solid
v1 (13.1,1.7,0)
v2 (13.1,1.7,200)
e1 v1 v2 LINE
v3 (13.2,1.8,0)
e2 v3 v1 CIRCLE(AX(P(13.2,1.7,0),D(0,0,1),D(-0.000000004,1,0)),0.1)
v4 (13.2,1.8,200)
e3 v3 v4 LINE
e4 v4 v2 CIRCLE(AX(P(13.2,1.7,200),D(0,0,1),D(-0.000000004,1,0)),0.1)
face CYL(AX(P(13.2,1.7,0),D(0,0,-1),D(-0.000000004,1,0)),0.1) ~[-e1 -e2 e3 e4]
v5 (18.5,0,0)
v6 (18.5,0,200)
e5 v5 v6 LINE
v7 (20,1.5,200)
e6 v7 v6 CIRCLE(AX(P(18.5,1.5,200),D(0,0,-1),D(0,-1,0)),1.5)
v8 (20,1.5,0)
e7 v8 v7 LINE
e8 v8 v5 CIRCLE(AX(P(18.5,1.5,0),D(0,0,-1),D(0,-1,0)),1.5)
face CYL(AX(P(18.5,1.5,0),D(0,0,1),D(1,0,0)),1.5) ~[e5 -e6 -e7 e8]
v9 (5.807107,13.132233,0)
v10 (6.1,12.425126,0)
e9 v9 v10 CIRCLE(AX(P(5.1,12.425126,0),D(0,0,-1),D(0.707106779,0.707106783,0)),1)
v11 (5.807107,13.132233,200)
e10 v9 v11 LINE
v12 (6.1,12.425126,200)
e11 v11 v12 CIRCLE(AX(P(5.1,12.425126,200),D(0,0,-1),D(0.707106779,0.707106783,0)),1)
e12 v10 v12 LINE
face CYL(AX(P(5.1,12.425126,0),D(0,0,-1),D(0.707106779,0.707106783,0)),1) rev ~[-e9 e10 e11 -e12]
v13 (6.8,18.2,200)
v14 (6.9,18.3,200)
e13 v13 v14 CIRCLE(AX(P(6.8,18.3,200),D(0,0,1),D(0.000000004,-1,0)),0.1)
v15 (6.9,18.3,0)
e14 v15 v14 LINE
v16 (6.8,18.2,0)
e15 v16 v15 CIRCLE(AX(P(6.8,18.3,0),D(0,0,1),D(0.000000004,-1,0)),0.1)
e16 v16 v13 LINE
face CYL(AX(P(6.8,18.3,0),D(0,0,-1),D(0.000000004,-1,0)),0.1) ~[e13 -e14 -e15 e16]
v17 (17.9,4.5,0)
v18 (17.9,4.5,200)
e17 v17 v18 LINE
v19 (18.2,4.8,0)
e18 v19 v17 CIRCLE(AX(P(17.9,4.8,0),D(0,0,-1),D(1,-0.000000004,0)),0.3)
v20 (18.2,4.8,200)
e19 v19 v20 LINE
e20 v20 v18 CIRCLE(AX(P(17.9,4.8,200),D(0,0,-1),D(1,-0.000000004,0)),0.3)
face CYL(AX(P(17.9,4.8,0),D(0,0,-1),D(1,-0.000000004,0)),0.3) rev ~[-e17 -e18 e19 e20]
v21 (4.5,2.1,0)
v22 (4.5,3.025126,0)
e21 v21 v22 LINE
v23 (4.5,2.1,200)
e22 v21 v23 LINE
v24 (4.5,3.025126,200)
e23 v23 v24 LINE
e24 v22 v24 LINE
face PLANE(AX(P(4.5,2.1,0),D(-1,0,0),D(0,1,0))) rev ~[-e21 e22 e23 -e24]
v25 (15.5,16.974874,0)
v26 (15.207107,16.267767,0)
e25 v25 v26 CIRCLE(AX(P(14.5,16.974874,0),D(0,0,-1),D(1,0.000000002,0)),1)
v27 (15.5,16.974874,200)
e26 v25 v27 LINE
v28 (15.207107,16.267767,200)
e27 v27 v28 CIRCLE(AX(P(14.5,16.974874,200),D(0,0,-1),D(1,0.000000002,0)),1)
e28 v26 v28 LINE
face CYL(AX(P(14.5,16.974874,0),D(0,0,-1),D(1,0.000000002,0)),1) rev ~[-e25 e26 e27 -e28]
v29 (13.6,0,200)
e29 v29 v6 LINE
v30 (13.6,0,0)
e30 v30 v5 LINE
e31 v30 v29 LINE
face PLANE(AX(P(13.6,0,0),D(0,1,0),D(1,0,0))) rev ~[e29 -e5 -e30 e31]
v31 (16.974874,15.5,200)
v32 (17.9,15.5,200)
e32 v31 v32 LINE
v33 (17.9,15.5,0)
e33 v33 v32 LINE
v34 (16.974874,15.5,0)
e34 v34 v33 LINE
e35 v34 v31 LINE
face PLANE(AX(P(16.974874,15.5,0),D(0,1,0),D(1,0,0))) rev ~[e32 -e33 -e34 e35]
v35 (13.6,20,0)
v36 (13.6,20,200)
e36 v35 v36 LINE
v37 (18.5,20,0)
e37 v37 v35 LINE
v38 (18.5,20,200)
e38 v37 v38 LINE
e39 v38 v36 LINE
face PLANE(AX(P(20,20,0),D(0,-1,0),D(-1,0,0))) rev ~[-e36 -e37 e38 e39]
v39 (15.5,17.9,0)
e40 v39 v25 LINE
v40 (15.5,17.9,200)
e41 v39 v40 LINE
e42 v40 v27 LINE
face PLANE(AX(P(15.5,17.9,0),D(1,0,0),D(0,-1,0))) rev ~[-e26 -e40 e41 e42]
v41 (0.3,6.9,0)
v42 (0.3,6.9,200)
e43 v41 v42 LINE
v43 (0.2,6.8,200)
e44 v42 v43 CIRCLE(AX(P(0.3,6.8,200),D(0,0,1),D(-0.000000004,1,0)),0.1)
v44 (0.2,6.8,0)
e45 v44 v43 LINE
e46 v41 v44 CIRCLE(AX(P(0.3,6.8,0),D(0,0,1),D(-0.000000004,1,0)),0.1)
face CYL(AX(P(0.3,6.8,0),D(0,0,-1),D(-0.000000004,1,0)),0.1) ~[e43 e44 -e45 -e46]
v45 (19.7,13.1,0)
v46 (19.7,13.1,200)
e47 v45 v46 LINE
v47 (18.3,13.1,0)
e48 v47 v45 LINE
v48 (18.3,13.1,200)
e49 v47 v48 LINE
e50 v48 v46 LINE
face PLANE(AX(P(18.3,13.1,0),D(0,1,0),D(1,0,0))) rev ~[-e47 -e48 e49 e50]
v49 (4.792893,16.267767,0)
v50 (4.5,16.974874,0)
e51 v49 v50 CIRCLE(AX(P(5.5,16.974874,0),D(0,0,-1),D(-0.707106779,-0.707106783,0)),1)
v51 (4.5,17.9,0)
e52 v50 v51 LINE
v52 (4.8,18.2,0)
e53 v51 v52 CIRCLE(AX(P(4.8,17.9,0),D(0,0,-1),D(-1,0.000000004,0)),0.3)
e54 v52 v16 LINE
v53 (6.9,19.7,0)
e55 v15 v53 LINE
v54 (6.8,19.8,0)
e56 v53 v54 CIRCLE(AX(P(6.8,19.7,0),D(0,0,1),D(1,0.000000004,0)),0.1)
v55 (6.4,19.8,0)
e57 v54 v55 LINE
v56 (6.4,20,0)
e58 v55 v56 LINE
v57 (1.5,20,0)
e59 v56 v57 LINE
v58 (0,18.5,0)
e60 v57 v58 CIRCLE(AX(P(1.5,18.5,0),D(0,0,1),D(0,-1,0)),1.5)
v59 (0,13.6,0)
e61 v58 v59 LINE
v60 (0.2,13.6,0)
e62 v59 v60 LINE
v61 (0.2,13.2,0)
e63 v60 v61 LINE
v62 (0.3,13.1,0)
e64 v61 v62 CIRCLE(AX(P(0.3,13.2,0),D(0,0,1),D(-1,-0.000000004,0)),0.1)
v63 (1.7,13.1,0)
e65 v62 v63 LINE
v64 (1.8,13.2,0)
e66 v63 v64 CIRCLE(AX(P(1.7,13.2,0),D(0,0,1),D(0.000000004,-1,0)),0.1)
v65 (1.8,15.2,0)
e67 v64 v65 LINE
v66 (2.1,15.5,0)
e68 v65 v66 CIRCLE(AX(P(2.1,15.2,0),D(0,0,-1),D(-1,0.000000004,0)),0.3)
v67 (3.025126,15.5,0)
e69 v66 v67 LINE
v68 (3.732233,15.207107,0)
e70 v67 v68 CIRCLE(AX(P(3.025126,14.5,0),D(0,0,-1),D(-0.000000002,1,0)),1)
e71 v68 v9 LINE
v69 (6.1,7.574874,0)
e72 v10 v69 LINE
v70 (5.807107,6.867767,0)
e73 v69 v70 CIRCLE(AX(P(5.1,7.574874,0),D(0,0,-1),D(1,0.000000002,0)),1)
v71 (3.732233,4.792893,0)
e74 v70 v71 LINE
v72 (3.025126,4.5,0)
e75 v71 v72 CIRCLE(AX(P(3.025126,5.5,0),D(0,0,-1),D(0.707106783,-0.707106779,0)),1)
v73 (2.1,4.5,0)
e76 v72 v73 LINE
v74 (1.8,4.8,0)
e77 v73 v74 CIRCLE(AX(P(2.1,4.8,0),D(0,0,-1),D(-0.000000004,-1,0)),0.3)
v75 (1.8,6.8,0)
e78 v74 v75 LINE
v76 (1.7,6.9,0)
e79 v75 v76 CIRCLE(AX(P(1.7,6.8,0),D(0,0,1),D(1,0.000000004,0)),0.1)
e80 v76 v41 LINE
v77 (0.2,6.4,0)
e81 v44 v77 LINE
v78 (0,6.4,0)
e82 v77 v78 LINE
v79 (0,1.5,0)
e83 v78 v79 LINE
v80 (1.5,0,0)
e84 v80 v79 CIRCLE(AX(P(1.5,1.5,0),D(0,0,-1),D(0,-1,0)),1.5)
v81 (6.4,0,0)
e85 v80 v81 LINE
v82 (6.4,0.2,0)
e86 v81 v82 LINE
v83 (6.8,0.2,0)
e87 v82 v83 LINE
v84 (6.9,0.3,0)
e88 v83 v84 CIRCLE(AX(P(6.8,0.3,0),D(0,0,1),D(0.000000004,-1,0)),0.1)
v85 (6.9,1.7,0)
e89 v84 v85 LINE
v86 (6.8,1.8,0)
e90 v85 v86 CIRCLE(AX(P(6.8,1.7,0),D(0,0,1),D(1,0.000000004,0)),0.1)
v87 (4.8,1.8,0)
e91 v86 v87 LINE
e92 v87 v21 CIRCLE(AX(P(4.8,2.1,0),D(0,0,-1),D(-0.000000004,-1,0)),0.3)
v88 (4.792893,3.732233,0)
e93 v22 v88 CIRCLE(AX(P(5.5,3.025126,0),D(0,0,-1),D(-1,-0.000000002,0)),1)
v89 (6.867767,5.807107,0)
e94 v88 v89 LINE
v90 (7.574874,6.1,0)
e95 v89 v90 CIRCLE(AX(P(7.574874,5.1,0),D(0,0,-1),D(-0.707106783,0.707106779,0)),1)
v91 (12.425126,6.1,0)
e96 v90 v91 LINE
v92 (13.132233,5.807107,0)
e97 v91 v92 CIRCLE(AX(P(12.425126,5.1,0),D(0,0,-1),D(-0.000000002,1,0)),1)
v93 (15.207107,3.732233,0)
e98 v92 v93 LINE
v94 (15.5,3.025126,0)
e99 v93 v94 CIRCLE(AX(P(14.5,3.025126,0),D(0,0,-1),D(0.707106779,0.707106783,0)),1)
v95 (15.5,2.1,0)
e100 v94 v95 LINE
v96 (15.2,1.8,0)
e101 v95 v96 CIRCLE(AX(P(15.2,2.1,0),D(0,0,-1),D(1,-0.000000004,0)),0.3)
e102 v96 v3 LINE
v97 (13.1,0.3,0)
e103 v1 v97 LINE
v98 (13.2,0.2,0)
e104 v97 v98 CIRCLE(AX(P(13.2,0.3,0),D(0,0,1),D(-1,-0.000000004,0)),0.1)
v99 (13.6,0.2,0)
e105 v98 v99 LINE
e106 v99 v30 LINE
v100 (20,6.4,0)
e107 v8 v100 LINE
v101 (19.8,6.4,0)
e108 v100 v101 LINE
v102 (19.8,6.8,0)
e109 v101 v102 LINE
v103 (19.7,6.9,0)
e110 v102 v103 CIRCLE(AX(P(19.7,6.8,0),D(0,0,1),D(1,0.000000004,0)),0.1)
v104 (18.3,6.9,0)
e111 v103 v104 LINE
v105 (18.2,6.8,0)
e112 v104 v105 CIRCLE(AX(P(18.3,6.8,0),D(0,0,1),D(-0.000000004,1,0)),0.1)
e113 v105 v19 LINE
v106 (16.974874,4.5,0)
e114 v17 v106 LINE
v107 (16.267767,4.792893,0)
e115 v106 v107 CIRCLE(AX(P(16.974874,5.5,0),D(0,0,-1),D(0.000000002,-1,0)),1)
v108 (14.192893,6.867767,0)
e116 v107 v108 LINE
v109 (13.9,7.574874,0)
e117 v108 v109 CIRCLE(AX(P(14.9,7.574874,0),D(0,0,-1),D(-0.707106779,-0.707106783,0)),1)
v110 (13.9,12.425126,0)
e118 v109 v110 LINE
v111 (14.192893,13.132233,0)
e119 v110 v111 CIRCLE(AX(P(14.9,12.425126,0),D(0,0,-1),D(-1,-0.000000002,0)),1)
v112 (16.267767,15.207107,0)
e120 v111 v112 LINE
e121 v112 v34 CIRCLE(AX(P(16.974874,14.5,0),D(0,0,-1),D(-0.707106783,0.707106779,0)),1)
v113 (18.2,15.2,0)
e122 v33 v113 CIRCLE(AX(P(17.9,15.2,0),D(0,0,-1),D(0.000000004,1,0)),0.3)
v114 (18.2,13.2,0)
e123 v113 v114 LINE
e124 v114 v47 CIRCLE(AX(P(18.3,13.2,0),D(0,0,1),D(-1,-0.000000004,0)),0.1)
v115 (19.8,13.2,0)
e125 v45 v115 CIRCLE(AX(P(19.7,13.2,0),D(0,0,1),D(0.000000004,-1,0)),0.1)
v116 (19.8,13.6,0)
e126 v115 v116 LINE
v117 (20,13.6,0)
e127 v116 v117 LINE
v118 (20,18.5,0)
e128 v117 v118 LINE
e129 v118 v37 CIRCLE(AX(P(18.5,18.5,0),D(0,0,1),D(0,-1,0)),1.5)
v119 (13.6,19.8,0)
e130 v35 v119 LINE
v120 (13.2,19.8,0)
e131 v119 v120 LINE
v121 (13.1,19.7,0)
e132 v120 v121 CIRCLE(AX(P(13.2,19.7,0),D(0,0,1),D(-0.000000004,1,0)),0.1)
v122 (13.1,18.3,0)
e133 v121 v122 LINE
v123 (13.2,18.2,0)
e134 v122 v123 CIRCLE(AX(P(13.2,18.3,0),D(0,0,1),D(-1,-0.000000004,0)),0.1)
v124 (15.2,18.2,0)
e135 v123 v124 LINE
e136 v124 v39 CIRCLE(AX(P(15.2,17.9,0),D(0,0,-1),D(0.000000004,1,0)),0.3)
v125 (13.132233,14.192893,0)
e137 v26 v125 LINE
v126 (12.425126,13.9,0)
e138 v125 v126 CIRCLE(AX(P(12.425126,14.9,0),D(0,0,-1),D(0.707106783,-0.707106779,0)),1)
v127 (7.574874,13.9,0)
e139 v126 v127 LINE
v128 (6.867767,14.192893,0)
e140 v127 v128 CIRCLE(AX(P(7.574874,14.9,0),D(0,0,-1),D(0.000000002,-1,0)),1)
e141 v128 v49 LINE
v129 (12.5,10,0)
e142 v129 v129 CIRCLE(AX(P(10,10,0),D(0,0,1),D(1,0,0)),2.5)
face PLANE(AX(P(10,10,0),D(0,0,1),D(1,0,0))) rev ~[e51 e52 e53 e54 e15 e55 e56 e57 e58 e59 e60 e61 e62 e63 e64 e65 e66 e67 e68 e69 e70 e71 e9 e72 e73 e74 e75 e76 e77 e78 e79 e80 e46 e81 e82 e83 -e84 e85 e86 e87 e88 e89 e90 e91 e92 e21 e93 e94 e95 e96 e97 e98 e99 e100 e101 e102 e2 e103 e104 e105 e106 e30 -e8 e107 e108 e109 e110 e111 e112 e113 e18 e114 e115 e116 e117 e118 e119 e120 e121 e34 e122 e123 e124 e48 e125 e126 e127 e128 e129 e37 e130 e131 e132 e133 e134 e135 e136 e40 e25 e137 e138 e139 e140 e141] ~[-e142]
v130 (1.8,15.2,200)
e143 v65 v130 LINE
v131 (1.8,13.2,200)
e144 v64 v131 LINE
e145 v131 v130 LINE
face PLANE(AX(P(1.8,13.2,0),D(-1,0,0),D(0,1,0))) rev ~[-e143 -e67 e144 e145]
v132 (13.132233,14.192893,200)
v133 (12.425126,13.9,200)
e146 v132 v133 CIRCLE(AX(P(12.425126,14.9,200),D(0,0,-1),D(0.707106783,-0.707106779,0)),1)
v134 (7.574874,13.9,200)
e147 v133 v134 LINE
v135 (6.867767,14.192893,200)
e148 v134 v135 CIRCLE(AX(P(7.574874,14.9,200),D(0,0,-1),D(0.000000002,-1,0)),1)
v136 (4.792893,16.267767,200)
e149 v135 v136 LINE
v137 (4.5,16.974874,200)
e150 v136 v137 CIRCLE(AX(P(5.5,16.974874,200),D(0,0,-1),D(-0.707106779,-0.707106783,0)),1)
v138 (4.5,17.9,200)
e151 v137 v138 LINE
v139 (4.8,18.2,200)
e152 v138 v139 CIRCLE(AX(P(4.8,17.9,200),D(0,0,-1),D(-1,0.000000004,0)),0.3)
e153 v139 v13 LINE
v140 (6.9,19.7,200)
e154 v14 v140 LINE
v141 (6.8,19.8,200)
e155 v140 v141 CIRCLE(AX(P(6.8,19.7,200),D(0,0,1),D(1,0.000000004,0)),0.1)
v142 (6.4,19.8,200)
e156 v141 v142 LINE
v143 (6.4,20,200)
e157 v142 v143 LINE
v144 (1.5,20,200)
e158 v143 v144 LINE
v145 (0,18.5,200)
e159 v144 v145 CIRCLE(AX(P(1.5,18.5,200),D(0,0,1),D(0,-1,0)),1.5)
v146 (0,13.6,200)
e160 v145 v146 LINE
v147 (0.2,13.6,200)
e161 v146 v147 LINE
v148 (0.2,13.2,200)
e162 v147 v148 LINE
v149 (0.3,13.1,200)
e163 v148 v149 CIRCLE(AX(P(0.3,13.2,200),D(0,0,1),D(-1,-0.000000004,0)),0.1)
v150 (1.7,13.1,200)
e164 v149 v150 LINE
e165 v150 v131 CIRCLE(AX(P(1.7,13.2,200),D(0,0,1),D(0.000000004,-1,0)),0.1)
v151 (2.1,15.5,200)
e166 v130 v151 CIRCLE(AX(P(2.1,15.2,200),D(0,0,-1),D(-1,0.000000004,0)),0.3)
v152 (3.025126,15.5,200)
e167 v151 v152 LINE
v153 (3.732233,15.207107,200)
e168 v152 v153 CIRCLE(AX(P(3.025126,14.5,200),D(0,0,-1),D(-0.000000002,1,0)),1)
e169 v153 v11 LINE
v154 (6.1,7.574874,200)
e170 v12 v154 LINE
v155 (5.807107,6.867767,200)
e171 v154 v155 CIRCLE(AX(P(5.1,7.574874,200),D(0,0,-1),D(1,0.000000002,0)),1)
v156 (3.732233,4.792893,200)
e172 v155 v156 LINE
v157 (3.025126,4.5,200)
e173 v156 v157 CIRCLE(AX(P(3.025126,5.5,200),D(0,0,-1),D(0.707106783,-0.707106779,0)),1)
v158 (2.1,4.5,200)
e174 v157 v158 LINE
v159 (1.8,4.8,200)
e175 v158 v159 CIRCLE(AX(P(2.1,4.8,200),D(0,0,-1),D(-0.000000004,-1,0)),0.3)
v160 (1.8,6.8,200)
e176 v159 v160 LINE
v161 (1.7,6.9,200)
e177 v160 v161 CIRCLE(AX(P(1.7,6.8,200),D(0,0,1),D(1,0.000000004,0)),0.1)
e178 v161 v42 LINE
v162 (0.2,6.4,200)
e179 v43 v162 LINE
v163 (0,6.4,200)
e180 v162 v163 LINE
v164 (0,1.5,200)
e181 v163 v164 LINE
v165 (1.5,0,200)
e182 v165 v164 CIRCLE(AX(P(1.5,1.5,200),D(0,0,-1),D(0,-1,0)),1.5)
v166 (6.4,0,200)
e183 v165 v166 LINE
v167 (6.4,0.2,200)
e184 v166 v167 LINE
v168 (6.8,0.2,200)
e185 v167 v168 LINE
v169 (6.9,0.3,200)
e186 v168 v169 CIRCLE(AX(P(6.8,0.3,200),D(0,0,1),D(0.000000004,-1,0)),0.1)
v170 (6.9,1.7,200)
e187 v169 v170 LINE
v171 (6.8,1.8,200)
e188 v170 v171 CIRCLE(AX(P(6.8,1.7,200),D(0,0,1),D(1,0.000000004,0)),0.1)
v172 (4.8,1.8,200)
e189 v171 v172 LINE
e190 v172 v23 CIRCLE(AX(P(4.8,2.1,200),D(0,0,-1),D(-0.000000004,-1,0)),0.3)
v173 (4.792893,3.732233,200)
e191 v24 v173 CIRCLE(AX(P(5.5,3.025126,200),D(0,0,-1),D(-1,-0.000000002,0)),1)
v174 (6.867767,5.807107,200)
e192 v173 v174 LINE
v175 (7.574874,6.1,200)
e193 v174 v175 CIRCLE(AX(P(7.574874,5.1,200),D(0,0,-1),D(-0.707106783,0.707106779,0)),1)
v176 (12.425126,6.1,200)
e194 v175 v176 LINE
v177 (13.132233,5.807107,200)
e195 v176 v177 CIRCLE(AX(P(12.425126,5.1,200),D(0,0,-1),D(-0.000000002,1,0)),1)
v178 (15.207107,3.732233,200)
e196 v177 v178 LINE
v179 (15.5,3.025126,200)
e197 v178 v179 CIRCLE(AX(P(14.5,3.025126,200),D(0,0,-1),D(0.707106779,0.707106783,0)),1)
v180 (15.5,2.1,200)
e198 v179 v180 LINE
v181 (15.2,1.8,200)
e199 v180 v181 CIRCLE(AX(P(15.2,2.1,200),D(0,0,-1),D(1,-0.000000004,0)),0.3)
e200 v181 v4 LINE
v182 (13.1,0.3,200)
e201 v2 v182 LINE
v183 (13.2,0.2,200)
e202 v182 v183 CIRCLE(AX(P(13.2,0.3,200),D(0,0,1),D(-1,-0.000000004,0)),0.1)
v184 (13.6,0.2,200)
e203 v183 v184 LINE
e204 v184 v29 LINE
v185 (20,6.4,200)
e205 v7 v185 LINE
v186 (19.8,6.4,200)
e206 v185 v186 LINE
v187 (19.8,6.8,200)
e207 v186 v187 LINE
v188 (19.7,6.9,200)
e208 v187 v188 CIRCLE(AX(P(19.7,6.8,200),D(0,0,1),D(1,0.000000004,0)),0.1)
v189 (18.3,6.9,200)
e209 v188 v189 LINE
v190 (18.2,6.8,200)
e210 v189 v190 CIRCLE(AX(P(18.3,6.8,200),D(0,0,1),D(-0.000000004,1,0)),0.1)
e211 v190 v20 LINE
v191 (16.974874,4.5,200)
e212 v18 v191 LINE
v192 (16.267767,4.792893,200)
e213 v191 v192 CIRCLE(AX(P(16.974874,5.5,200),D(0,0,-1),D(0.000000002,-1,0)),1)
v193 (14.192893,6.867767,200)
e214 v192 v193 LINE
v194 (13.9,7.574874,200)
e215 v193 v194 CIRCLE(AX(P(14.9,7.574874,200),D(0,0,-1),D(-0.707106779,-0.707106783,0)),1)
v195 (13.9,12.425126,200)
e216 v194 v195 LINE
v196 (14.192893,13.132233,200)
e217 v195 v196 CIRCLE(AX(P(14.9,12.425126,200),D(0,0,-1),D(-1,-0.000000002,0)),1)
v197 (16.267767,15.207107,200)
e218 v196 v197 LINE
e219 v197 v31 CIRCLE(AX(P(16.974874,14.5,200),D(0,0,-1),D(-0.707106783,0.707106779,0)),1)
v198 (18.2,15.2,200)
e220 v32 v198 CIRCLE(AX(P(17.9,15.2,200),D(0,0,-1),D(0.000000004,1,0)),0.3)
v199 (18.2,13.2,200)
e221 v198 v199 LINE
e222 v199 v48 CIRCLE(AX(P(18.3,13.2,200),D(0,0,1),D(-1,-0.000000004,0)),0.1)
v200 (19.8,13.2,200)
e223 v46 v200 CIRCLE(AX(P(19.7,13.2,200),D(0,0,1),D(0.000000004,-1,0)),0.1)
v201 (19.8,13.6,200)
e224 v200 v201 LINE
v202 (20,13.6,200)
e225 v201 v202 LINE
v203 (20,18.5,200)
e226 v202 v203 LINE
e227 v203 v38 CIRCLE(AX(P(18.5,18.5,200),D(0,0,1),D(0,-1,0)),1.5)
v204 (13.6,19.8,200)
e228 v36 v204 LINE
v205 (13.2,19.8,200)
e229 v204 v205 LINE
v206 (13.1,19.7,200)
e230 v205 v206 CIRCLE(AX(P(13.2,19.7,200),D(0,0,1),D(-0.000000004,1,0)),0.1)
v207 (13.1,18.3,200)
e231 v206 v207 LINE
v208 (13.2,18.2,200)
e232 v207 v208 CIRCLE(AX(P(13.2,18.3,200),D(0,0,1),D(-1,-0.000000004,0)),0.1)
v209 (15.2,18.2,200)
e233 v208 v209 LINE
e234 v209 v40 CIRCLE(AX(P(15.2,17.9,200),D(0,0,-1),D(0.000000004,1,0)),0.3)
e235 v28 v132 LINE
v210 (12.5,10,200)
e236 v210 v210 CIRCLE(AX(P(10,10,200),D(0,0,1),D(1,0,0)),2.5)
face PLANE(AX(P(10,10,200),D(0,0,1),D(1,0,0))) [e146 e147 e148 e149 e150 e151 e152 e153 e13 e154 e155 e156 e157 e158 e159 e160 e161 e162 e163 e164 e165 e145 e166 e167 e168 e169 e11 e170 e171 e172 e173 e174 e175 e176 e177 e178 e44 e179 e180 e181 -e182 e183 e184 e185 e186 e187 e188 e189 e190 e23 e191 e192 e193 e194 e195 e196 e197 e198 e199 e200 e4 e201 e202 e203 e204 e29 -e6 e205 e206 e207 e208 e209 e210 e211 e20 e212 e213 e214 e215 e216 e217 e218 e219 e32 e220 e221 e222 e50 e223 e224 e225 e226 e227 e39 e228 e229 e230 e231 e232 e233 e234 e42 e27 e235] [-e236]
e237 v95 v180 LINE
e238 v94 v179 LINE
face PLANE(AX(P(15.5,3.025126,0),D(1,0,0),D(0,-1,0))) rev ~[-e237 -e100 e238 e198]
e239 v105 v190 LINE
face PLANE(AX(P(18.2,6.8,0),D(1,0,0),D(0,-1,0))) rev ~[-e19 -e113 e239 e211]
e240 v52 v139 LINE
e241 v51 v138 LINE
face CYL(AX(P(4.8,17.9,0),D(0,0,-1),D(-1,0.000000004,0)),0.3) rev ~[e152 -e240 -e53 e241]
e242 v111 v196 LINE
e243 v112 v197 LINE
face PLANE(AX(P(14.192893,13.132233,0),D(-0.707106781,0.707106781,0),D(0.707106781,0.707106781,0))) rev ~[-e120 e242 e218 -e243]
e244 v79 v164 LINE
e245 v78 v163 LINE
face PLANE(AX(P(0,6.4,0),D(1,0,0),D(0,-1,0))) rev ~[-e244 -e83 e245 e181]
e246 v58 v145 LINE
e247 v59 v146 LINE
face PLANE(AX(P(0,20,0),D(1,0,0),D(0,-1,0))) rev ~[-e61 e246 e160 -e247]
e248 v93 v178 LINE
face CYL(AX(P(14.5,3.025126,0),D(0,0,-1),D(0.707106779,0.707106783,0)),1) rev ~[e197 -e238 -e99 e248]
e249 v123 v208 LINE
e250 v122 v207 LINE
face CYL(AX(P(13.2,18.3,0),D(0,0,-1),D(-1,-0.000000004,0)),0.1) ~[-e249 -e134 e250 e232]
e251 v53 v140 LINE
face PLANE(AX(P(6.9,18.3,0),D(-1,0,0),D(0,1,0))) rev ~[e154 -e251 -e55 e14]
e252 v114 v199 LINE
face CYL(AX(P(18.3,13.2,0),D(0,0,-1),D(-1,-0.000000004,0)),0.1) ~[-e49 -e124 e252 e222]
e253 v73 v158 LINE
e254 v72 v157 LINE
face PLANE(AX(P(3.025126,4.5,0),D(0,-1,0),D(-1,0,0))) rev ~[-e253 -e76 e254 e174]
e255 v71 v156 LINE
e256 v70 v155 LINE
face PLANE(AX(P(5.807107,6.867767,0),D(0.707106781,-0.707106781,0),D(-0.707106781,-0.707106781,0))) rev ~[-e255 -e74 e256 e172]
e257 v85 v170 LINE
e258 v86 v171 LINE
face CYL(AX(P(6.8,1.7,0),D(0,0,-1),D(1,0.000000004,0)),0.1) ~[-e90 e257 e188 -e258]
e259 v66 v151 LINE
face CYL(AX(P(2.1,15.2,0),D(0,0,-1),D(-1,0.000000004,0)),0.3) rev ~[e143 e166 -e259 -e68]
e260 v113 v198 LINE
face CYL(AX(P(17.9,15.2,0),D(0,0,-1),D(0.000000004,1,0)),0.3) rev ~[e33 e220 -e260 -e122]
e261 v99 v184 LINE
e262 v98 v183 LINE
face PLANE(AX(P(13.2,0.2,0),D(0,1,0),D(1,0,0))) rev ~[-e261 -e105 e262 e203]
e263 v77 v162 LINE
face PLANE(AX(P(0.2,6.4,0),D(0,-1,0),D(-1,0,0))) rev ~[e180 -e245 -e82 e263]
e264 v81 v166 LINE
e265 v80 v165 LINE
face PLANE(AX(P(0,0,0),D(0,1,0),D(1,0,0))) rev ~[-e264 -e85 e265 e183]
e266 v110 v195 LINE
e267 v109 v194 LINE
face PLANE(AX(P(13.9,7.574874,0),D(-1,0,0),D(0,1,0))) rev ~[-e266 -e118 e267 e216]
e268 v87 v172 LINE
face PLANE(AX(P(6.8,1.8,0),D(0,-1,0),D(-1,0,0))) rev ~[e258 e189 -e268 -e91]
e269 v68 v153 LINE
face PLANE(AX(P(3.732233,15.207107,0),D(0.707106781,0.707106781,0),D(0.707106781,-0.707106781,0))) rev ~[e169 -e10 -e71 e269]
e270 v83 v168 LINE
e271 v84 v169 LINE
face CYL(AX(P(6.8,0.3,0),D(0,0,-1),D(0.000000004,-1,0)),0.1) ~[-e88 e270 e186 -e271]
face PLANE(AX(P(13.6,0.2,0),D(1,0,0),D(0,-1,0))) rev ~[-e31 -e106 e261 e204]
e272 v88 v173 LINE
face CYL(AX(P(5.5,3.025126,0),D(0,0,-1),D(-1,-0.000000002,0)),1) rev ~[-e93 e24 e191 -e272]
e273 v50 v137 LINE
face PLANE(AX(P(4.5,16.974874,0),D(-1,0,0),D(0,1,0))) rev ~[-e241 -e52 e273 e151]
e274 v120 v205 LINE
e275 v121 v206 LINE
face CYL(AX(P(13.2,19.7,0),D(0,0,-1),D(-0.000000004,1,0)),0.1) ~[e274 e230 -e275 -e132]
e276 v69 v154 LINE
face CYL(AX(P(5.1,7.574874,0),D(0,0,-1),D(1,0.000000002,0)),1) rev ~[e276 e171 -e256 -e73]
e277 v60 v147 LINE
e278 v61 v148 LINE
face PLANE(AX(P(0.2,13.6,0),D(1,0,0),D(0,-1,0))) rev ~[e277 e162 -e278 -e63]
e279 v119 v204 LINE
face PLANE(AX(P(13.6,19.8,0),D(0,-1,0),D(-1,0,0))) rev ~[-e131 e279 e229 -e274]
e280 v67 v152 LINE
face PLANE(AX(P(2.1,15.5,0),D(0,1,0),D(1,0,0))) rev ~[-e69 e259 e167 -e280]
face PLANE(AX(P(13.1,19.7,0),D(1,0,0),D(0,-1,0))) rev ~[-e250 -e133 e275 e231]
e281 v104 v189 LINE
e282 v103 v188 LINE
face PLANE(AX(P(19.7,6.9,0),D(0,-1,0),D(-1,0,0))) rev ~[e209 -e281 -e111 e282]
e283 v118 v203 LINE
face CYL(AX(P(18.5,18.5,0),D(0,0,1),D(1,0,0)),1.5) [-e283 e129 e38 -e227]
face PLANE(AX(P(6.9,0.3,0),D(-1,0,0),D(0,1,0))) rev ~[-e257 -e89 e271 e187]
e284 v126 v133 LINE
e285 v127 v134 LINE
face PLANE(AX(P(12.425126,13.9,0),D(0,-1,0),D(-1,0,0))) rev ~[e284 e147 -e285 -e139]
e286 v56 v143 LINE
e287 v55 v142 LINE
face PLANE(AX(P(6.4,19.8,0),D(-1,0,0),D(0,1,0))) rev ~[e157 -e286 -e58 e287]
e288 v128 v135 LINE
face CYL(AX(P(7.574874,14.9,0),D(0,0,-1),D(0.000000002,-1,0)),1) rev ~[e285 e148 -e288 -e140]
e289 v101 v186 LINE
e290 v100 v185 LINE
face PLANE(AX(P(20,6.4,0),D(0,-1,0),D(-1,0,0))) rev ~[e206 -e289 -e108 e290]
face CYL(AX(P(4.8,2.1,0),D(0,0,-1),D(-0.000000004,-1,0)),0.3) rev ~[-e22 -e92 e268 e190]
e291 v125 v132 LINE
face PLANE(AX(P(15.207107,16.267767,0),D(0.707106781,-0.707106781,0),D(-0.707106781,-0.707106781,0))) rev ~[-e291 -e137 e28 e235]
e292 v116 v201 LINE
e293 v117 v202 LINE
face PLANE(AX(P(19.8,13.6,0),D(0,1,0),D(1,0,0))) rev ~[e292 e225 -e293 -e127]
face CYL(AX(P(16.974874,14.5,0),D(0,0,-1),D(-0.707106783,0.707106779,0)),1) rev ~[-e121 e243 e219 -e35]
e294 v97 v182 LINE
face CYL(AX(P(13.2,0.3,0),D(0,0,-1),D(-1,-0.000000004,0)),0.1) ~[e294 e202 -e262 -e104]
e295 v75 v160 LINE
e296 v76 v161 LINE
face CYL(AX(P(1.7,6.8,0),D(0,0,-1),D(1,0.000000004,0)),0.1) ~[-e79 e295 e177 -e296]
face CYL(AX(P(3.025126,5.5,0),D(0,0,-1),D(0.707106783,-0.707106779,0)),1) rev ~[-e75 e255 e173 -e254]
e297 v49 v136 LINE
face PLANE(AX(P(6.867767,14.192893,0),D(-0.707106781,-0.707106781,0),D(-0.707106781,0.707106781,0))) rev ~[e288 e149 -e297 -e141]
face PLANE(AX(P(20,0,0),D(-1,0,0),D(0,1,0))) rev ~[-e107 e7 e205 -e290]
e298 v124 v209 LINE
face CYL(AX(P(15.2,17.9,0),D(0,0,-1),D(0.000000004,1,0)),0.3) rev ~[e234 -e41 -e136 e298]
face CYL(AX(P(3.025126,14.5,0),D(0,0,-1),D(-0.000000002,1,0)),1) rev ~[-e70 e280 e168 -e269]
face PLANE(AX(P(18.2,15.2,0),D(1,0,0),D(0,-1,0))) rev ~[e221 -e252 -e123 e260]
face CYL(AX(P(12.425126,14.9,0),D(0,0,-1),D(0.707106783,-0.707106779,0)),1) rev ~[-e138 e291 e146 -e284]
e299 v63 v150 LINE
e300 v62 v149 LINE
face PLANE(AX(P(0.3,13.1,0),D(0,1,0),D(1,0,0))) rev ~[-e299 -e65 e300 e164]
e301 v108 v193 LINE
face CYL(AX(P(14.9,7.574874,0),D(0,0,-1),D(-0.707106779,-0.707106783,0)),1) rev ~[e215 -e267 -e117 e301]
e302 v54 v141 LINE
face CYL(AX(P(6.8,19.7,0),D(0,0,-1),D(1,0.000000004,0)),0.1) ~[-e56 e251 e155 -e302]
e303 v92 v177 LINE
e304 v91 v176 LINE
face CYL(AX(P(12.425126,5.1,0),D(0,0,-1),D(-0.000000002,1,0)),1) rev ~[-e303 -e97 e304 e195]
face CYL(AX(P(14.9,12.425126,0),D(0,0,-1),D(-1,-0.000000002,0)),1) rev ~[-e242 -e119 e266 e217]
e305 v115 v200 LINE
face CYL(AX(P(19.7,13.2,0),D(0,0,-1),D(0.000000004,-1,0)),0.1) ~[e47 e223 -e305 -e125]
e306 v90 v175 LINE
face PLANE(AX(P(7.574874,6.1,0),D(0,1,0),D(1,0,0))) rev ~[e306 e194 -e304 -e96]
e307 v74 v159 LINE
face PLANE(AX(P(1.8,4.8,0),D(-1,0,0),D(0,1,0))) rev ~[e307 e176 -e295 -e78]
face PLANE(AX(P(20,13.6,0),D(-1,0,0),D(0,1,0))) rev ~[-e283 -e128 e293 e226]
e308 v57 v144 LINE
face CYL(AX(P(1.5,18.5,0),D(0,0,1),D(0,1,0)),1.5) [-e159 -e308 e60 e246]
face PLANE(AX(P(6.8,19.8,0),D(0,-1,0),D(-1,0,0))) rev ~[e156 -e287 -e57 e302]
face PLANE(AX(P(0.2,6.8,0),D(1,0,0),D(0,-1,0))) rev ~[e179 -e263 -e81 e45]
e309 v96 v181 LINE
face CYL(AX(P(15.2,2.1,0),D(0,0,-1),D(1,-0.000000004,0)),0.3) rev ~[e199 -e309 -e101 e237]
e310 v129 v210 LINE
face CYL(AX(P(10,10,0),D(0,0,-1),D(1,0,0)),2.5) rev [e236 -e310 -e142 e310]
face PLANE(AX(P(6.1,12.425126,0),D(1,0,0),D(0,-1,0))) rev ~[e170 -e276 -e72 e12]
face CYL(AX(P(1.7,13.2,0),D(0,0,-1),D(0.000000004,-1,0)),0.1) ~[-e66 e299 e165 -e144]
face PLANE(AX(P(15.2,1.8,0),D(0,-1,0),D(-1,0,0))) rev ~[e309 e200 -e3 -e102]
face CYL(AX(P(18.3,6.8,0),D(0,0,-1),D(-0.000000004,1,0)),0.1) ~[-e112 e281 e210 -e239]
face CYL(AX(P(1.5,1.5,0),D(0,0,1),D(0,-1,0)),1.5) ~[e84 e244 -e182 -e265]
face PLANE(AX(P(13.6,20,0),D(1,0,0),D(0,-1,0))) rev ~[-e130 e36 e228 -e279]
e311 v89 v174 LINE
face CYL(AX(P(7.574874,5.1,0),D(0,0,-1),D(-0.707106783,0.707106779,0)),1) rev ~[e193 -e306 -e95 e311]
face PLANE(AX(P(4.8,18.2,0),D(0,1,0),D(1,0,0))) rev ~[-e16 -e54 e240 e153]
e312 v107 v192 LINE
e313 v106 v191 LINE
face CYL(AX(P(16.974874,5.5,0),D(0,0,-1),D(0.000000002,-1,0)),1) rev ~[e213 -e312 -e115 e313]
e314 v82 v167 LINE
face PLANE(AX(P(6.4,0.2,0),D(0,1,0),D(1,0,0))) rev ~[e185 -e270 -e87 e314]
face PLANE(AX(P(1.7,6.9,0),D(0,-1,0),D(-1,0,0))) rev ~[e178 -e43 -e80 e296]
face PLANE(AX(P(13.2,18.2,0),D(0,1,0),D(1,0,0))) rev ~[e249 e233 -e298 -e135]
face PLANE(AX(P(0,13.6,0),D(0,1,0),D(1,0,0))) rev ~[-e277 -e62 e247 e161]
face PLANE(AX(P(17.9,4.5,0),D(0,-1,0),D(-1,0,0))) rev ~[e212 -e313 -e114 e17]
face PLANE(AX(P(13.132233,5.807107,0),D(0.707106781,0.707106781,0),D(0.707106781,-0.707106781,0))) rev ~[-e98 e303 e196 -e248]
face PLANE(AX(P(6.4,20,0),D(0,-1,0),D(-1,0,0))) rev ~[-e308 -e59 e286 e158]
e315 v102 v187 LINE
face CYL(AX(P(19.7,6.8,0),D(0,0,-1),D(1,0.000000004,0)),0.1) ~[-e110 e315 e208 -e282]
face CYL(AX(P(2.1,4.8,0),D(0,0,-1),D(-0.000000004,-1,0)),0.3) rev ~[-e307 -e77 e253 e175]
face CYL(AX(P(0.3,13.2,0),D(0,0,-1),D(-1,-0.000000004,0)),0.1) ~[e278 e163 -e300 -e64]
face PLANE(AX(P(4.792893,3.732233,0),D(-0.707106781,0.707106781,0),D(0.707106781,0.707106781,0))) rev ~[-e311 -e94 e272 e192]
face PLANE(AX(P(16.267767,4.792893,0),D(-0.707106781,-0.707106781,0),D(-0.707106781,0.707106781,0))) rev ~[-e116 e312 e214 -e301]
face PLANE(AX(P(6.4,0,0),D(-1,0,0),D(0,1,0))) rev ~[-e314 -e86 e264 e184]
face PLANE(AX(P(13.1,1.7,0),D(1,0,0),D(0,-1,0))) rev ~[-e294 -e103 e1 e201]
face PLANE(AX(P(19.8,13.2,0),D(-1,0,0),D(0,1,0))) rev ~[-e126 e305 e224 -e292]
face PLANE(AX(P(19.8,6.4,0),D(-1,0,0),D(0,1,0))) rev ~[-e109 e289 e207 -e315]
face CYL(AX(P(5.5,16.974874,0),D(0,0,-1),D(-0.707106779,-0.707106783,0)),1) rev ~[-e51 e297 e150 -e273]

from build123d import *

# Parameters (mm, degrees)
SKETCH_1_R      = 2.5
EXTRUDE_1_DEPTH = 200
FILLET_1_R      = 1.5


with BuildPart() as part:
    # 草图1 → 凸台-拉伸1 (new body)
    with BuildSketch(Plane.XY):
        with BuildLine():
            Line((20, 13.6), (20, 20))
            Line((20, 20), (13.6, 20))
            Line((13.6, 20), (13.6, 19.8))
            Line((13.6, 19.8), (13.2, 19.8))
            ThreePointArc((13.2, 19.8), (13.129289322, 19.770710678), (13.1, 19.7))
            Line((13.1, 19.7), (13.1, 18.3))
            ThreePointArc((13.1, 18.3), (13.129289322, 18.229289322), (13.2, 18.2))
            Line((13.2, 18.2), (15.2, 18.2))
            ThreePointArc((15.2, 18.2), (15.412132034, 18.112132034), (15.5, 17.9))
            Line((15.5, 17.9), (15.5, 16.974873734))
            ThreePointArc((15.5, 16.974873734), (15.423879533, 16.592190302), (15.207106781, 16.267766953))
            Line((15.207106781, 16.267766953), (13.132233047, 14.192893219))
            ThreePointArc((13.132233047, 14.192893219), (12.807809698, 13.976120467), (12.425126266, 13.9))
            Line((12.425126266, 13.9), (7.574873734, 13.9))
            ThreePointArc((7.574873734, 13.9), (7.192190302, 13.976120467), (6.867766953, 14.192893219))
            Line((6.867766953, 14.192893219), (4.792893219, 16.267766953))
            ThreePointArc((4.792893219, 16.267766953), (4.576120467, 16.592190302), (4.5, 16.974873734))
            Line((4.5, 16.974873734), (4.5, 17.9))
            ThreePointArc((4.5, 17.9), (4.587867966, 18.112132034), (4.8, 18.2))
            Line((4.8, 18.2), (6.8, 18.2))
            ThreePointArc((6.8, 18.2), (6.870710678, 18.229289322), (6.9, 18.3))
            Line((6.9, 18.3), (6.9, 19.7))
            ThreePointArc((6.9, 19.7), (6.870710678, 19.770710678), (6.8, 19.8))
            Line((6.8, 19.8), (6.4, 19.8))
            Line((6.4, 19.8), (6.4, 20))
            Line((6.4, 20), (0, 20))
            Line((0, 20), (0, 13.6))
            Line((0, 13.6), (0.2, 13.6))
            Line((0.2, 13.6), (0.2, 13.2))
            ThreePointArc((0.2, 13.2), (0.229289322, 13.129289322), (0.3, 13.1))
            Line((0.3, 13.1), (1.7, 13.1))
            ThreePointArc((1.7, 13.1), (1.770710678, 13.129289322), (1.8, 13.2))
            Line((1.8, 13.2), (1.8, 15.2))
            ThreePointArc((1.8, 15.2), (1.887867966, 15.412132034), (2.1, 15.5))
            Line((2.1, 15.5), (3.025126266, 15.5))
            ThreePointArc((3.025126266, 15.5), (3.407809698, 15.423879533), (3.732233047, 15.207106781))
            Line((3.732233047, 15.207106781), (5.807106781, 13.132233047))
            ThreePointArc((5.807106781, 13.132233047), (6.023879533, 12.807809698), (6.1, 12.425126266))
            Line((6.1, 12.425126266), (6.1, 7.574873734))
            ThreePointArc((6.1, 7.574873734), (6.023879533, 7.192190302), (5.807106781, 6.867766953))
            Line((5.807106781, 6.867766953), (3.732233047, 4.792893219))
            ThreePointArc((3.732233047, 4.792893219), (3.407809698, 4.576120467), (3.025126266, 4.5))
            Line((3.025126266, 4.5), (2.1, 4.5))
            ThreePointArc((2.1, 4.5), (1.887867966, 4.587867966), (1.8, 4.8))
            Line((1.8, 4.8), (1.8, 6.8))
            ThreePointArc((1.8, 6.8), (1.770710678, 6.870710678), (1.7, 6.9))
            Line((1.7, 6.9), (0.3, 6.9))
            ThreePointArc((0.3, 6.9), (0.229289322, 6.870710678), (0.2, 6.8))
            Line((0.2, 6.8), (0.2, 6.4))
            Line((0.2, 6.4), (0, 6.4))
            Line((0, 6.4), (0, 0))
            Line((0, 0), (6.4, 0))
            Line((6.4, 0), (6.4, 0.2))
            Line((6.4, 0.2), (6.8, 0.2))
            ThreePointArc((6.8, 0.2), (6.870710678, 0.229289322), (6.9, 0.3))
            Line((6.9, 0.3), (6.9, 1.7))
            ThreePointArc((6.9, 1.7), (6.870710678, 1.770710678), (6.8, 1.8))
            Line((6.8, 1.8), (4.8, 1.8))
            ThreePointArc((4.8, 1.8), (4.587867966, 1.887867966), (4.5, 2.1))
            Line((4.5, 2.1), (4.5, 3.025126266))
            ThreePointArc((4.5, 3.025126266), (4.576120467, 3.407809698), (4.792893219, 3.732233047))
            Line((4.792893219, 3.732233047), (6.867766953, 5.807106781))
            ThreePointArc((6.867766953, 5.807106781), (7.192190302, 6.023879533), (7.574873734, 6.1))
            Line((7.574873734, 6.1), (12.425126266, 6.1))
            ThreePointArc((12.425126266, 6.1), (12.807809698, 6.023879533), (13.132233047, 5.807106781))
            Line((13.132233047, 5.807106781), (15.207106781, 3.732233047))
            ThreePointArc((15.207106781, 3.732233047), (15.423879533, 3.407809698), (15.5, 3.025126266))
            Line((15.5, 3.025126266), (15.5, 2.1))
            ThreePointArc((15.5, 2.1), (15.412132034, 1.887867966), (15.2, 1.8))
            Line((15.2, 1.8), (13.2, 1.8))
            ThreePointArc((13.2, 1.8), (13.129289322, 1.770710678), (13.1, 1.7))
            Line((13.1, 1.7), (13.1, 0.3))
            ThreePointArc((13.1, 0.3), (13.129289322, 0.229289322), (13.2, 0.2))
            Line((13.2, 0.2), (13.6, 0.2))
            Line((13.6, 0.2), (13.6, 0))
            Line((13.6, 0), (20, 0))
            Line((20, 0), (20, 6.4))
            Line((20, 6.4), (19.8, 6.4))
            Line((19.8, 6.4), (19.8, 6.8))
            ThreePointArc((19.8, 6.8), (19.770710678, 6.870710678), (19.7, 6.9))
            Line((19.7, 6.9), (18.3, 6.9))
            ThreePointArc((18.3, 6.9), (18.229289322, 6.870710678), (18.2, 6.8))
            Line((18.2, 6.8), (18.2, 4.8))
            ThreePointArc((18.2, 4.8), (18.112132034, 4.587867966), (17.9, 4.5))
            Line((17.9, 4.5), (16.974873734, 4.5))
            ThreePointArc((16.974873734, 4.5), (16.592190302, 4.576120467), (16.267766953, 4.792893219))
            Line((16.267766953, 4.792893219), (14.192893219, 6.867766953))
            ThreePointArc((14.192893219, 6.867766953), (13.976120467, 7.192190302), (13.9, 7.574873734))
            Line((13.9, 7.574873734), (13.9, 12.425126266))
            ThreePointArc((13.9, 12.425126266), (13.976120467, 12.807809698), (14.192893219, 13.132233047))
            Line((14.192893219, 13.132233047), (16.267766953, 15.207106781))
            ThreePointArc((16.267766953, 15.207106781), (16.592190302, 15.423879533), (16.974873734, 15.5))
            Line((16.974873734, 15.5), (17.9, 15.5))
            ThreePointArc((17.9, 15.5), (18.112132034, 15.412132034), (18.2, 15.2))
            Line((18.2, 15.2), (18.2, 13.2))
            ThreePointArc((18.2, 13.2), (18.229289322, 13.129289322), (18.3, 13.1))
            Line((18.3, 13.1), (19.7, 13.1))
            ThreePointArc((19.7, 13.1), (19.770710678, 13.129289322), (19.8, 13.2))
            Line((19.8, 13.2), (19.8, 13.6))
            Line((19.8, 13.6), (20, 13.6))
        make_face()
        with Locations((10, 10)):
            Circle(SKETCH_1_R, mode=Mode.SUBTRACT)
    extrude(amount=EXTRUDE_1_DEPTH)

    # 圆角1
    fillet_1_edges = [part.edges().sort_by_distance(p)[0] for p in [
        (0, 0, 100),
        (0, 20, 100),
        (20, 20, 100),
        (20, 0, 100),
    ]]
    fillet(fillet_1_edges, radius=FILLET_1_R)


solid = part.part
